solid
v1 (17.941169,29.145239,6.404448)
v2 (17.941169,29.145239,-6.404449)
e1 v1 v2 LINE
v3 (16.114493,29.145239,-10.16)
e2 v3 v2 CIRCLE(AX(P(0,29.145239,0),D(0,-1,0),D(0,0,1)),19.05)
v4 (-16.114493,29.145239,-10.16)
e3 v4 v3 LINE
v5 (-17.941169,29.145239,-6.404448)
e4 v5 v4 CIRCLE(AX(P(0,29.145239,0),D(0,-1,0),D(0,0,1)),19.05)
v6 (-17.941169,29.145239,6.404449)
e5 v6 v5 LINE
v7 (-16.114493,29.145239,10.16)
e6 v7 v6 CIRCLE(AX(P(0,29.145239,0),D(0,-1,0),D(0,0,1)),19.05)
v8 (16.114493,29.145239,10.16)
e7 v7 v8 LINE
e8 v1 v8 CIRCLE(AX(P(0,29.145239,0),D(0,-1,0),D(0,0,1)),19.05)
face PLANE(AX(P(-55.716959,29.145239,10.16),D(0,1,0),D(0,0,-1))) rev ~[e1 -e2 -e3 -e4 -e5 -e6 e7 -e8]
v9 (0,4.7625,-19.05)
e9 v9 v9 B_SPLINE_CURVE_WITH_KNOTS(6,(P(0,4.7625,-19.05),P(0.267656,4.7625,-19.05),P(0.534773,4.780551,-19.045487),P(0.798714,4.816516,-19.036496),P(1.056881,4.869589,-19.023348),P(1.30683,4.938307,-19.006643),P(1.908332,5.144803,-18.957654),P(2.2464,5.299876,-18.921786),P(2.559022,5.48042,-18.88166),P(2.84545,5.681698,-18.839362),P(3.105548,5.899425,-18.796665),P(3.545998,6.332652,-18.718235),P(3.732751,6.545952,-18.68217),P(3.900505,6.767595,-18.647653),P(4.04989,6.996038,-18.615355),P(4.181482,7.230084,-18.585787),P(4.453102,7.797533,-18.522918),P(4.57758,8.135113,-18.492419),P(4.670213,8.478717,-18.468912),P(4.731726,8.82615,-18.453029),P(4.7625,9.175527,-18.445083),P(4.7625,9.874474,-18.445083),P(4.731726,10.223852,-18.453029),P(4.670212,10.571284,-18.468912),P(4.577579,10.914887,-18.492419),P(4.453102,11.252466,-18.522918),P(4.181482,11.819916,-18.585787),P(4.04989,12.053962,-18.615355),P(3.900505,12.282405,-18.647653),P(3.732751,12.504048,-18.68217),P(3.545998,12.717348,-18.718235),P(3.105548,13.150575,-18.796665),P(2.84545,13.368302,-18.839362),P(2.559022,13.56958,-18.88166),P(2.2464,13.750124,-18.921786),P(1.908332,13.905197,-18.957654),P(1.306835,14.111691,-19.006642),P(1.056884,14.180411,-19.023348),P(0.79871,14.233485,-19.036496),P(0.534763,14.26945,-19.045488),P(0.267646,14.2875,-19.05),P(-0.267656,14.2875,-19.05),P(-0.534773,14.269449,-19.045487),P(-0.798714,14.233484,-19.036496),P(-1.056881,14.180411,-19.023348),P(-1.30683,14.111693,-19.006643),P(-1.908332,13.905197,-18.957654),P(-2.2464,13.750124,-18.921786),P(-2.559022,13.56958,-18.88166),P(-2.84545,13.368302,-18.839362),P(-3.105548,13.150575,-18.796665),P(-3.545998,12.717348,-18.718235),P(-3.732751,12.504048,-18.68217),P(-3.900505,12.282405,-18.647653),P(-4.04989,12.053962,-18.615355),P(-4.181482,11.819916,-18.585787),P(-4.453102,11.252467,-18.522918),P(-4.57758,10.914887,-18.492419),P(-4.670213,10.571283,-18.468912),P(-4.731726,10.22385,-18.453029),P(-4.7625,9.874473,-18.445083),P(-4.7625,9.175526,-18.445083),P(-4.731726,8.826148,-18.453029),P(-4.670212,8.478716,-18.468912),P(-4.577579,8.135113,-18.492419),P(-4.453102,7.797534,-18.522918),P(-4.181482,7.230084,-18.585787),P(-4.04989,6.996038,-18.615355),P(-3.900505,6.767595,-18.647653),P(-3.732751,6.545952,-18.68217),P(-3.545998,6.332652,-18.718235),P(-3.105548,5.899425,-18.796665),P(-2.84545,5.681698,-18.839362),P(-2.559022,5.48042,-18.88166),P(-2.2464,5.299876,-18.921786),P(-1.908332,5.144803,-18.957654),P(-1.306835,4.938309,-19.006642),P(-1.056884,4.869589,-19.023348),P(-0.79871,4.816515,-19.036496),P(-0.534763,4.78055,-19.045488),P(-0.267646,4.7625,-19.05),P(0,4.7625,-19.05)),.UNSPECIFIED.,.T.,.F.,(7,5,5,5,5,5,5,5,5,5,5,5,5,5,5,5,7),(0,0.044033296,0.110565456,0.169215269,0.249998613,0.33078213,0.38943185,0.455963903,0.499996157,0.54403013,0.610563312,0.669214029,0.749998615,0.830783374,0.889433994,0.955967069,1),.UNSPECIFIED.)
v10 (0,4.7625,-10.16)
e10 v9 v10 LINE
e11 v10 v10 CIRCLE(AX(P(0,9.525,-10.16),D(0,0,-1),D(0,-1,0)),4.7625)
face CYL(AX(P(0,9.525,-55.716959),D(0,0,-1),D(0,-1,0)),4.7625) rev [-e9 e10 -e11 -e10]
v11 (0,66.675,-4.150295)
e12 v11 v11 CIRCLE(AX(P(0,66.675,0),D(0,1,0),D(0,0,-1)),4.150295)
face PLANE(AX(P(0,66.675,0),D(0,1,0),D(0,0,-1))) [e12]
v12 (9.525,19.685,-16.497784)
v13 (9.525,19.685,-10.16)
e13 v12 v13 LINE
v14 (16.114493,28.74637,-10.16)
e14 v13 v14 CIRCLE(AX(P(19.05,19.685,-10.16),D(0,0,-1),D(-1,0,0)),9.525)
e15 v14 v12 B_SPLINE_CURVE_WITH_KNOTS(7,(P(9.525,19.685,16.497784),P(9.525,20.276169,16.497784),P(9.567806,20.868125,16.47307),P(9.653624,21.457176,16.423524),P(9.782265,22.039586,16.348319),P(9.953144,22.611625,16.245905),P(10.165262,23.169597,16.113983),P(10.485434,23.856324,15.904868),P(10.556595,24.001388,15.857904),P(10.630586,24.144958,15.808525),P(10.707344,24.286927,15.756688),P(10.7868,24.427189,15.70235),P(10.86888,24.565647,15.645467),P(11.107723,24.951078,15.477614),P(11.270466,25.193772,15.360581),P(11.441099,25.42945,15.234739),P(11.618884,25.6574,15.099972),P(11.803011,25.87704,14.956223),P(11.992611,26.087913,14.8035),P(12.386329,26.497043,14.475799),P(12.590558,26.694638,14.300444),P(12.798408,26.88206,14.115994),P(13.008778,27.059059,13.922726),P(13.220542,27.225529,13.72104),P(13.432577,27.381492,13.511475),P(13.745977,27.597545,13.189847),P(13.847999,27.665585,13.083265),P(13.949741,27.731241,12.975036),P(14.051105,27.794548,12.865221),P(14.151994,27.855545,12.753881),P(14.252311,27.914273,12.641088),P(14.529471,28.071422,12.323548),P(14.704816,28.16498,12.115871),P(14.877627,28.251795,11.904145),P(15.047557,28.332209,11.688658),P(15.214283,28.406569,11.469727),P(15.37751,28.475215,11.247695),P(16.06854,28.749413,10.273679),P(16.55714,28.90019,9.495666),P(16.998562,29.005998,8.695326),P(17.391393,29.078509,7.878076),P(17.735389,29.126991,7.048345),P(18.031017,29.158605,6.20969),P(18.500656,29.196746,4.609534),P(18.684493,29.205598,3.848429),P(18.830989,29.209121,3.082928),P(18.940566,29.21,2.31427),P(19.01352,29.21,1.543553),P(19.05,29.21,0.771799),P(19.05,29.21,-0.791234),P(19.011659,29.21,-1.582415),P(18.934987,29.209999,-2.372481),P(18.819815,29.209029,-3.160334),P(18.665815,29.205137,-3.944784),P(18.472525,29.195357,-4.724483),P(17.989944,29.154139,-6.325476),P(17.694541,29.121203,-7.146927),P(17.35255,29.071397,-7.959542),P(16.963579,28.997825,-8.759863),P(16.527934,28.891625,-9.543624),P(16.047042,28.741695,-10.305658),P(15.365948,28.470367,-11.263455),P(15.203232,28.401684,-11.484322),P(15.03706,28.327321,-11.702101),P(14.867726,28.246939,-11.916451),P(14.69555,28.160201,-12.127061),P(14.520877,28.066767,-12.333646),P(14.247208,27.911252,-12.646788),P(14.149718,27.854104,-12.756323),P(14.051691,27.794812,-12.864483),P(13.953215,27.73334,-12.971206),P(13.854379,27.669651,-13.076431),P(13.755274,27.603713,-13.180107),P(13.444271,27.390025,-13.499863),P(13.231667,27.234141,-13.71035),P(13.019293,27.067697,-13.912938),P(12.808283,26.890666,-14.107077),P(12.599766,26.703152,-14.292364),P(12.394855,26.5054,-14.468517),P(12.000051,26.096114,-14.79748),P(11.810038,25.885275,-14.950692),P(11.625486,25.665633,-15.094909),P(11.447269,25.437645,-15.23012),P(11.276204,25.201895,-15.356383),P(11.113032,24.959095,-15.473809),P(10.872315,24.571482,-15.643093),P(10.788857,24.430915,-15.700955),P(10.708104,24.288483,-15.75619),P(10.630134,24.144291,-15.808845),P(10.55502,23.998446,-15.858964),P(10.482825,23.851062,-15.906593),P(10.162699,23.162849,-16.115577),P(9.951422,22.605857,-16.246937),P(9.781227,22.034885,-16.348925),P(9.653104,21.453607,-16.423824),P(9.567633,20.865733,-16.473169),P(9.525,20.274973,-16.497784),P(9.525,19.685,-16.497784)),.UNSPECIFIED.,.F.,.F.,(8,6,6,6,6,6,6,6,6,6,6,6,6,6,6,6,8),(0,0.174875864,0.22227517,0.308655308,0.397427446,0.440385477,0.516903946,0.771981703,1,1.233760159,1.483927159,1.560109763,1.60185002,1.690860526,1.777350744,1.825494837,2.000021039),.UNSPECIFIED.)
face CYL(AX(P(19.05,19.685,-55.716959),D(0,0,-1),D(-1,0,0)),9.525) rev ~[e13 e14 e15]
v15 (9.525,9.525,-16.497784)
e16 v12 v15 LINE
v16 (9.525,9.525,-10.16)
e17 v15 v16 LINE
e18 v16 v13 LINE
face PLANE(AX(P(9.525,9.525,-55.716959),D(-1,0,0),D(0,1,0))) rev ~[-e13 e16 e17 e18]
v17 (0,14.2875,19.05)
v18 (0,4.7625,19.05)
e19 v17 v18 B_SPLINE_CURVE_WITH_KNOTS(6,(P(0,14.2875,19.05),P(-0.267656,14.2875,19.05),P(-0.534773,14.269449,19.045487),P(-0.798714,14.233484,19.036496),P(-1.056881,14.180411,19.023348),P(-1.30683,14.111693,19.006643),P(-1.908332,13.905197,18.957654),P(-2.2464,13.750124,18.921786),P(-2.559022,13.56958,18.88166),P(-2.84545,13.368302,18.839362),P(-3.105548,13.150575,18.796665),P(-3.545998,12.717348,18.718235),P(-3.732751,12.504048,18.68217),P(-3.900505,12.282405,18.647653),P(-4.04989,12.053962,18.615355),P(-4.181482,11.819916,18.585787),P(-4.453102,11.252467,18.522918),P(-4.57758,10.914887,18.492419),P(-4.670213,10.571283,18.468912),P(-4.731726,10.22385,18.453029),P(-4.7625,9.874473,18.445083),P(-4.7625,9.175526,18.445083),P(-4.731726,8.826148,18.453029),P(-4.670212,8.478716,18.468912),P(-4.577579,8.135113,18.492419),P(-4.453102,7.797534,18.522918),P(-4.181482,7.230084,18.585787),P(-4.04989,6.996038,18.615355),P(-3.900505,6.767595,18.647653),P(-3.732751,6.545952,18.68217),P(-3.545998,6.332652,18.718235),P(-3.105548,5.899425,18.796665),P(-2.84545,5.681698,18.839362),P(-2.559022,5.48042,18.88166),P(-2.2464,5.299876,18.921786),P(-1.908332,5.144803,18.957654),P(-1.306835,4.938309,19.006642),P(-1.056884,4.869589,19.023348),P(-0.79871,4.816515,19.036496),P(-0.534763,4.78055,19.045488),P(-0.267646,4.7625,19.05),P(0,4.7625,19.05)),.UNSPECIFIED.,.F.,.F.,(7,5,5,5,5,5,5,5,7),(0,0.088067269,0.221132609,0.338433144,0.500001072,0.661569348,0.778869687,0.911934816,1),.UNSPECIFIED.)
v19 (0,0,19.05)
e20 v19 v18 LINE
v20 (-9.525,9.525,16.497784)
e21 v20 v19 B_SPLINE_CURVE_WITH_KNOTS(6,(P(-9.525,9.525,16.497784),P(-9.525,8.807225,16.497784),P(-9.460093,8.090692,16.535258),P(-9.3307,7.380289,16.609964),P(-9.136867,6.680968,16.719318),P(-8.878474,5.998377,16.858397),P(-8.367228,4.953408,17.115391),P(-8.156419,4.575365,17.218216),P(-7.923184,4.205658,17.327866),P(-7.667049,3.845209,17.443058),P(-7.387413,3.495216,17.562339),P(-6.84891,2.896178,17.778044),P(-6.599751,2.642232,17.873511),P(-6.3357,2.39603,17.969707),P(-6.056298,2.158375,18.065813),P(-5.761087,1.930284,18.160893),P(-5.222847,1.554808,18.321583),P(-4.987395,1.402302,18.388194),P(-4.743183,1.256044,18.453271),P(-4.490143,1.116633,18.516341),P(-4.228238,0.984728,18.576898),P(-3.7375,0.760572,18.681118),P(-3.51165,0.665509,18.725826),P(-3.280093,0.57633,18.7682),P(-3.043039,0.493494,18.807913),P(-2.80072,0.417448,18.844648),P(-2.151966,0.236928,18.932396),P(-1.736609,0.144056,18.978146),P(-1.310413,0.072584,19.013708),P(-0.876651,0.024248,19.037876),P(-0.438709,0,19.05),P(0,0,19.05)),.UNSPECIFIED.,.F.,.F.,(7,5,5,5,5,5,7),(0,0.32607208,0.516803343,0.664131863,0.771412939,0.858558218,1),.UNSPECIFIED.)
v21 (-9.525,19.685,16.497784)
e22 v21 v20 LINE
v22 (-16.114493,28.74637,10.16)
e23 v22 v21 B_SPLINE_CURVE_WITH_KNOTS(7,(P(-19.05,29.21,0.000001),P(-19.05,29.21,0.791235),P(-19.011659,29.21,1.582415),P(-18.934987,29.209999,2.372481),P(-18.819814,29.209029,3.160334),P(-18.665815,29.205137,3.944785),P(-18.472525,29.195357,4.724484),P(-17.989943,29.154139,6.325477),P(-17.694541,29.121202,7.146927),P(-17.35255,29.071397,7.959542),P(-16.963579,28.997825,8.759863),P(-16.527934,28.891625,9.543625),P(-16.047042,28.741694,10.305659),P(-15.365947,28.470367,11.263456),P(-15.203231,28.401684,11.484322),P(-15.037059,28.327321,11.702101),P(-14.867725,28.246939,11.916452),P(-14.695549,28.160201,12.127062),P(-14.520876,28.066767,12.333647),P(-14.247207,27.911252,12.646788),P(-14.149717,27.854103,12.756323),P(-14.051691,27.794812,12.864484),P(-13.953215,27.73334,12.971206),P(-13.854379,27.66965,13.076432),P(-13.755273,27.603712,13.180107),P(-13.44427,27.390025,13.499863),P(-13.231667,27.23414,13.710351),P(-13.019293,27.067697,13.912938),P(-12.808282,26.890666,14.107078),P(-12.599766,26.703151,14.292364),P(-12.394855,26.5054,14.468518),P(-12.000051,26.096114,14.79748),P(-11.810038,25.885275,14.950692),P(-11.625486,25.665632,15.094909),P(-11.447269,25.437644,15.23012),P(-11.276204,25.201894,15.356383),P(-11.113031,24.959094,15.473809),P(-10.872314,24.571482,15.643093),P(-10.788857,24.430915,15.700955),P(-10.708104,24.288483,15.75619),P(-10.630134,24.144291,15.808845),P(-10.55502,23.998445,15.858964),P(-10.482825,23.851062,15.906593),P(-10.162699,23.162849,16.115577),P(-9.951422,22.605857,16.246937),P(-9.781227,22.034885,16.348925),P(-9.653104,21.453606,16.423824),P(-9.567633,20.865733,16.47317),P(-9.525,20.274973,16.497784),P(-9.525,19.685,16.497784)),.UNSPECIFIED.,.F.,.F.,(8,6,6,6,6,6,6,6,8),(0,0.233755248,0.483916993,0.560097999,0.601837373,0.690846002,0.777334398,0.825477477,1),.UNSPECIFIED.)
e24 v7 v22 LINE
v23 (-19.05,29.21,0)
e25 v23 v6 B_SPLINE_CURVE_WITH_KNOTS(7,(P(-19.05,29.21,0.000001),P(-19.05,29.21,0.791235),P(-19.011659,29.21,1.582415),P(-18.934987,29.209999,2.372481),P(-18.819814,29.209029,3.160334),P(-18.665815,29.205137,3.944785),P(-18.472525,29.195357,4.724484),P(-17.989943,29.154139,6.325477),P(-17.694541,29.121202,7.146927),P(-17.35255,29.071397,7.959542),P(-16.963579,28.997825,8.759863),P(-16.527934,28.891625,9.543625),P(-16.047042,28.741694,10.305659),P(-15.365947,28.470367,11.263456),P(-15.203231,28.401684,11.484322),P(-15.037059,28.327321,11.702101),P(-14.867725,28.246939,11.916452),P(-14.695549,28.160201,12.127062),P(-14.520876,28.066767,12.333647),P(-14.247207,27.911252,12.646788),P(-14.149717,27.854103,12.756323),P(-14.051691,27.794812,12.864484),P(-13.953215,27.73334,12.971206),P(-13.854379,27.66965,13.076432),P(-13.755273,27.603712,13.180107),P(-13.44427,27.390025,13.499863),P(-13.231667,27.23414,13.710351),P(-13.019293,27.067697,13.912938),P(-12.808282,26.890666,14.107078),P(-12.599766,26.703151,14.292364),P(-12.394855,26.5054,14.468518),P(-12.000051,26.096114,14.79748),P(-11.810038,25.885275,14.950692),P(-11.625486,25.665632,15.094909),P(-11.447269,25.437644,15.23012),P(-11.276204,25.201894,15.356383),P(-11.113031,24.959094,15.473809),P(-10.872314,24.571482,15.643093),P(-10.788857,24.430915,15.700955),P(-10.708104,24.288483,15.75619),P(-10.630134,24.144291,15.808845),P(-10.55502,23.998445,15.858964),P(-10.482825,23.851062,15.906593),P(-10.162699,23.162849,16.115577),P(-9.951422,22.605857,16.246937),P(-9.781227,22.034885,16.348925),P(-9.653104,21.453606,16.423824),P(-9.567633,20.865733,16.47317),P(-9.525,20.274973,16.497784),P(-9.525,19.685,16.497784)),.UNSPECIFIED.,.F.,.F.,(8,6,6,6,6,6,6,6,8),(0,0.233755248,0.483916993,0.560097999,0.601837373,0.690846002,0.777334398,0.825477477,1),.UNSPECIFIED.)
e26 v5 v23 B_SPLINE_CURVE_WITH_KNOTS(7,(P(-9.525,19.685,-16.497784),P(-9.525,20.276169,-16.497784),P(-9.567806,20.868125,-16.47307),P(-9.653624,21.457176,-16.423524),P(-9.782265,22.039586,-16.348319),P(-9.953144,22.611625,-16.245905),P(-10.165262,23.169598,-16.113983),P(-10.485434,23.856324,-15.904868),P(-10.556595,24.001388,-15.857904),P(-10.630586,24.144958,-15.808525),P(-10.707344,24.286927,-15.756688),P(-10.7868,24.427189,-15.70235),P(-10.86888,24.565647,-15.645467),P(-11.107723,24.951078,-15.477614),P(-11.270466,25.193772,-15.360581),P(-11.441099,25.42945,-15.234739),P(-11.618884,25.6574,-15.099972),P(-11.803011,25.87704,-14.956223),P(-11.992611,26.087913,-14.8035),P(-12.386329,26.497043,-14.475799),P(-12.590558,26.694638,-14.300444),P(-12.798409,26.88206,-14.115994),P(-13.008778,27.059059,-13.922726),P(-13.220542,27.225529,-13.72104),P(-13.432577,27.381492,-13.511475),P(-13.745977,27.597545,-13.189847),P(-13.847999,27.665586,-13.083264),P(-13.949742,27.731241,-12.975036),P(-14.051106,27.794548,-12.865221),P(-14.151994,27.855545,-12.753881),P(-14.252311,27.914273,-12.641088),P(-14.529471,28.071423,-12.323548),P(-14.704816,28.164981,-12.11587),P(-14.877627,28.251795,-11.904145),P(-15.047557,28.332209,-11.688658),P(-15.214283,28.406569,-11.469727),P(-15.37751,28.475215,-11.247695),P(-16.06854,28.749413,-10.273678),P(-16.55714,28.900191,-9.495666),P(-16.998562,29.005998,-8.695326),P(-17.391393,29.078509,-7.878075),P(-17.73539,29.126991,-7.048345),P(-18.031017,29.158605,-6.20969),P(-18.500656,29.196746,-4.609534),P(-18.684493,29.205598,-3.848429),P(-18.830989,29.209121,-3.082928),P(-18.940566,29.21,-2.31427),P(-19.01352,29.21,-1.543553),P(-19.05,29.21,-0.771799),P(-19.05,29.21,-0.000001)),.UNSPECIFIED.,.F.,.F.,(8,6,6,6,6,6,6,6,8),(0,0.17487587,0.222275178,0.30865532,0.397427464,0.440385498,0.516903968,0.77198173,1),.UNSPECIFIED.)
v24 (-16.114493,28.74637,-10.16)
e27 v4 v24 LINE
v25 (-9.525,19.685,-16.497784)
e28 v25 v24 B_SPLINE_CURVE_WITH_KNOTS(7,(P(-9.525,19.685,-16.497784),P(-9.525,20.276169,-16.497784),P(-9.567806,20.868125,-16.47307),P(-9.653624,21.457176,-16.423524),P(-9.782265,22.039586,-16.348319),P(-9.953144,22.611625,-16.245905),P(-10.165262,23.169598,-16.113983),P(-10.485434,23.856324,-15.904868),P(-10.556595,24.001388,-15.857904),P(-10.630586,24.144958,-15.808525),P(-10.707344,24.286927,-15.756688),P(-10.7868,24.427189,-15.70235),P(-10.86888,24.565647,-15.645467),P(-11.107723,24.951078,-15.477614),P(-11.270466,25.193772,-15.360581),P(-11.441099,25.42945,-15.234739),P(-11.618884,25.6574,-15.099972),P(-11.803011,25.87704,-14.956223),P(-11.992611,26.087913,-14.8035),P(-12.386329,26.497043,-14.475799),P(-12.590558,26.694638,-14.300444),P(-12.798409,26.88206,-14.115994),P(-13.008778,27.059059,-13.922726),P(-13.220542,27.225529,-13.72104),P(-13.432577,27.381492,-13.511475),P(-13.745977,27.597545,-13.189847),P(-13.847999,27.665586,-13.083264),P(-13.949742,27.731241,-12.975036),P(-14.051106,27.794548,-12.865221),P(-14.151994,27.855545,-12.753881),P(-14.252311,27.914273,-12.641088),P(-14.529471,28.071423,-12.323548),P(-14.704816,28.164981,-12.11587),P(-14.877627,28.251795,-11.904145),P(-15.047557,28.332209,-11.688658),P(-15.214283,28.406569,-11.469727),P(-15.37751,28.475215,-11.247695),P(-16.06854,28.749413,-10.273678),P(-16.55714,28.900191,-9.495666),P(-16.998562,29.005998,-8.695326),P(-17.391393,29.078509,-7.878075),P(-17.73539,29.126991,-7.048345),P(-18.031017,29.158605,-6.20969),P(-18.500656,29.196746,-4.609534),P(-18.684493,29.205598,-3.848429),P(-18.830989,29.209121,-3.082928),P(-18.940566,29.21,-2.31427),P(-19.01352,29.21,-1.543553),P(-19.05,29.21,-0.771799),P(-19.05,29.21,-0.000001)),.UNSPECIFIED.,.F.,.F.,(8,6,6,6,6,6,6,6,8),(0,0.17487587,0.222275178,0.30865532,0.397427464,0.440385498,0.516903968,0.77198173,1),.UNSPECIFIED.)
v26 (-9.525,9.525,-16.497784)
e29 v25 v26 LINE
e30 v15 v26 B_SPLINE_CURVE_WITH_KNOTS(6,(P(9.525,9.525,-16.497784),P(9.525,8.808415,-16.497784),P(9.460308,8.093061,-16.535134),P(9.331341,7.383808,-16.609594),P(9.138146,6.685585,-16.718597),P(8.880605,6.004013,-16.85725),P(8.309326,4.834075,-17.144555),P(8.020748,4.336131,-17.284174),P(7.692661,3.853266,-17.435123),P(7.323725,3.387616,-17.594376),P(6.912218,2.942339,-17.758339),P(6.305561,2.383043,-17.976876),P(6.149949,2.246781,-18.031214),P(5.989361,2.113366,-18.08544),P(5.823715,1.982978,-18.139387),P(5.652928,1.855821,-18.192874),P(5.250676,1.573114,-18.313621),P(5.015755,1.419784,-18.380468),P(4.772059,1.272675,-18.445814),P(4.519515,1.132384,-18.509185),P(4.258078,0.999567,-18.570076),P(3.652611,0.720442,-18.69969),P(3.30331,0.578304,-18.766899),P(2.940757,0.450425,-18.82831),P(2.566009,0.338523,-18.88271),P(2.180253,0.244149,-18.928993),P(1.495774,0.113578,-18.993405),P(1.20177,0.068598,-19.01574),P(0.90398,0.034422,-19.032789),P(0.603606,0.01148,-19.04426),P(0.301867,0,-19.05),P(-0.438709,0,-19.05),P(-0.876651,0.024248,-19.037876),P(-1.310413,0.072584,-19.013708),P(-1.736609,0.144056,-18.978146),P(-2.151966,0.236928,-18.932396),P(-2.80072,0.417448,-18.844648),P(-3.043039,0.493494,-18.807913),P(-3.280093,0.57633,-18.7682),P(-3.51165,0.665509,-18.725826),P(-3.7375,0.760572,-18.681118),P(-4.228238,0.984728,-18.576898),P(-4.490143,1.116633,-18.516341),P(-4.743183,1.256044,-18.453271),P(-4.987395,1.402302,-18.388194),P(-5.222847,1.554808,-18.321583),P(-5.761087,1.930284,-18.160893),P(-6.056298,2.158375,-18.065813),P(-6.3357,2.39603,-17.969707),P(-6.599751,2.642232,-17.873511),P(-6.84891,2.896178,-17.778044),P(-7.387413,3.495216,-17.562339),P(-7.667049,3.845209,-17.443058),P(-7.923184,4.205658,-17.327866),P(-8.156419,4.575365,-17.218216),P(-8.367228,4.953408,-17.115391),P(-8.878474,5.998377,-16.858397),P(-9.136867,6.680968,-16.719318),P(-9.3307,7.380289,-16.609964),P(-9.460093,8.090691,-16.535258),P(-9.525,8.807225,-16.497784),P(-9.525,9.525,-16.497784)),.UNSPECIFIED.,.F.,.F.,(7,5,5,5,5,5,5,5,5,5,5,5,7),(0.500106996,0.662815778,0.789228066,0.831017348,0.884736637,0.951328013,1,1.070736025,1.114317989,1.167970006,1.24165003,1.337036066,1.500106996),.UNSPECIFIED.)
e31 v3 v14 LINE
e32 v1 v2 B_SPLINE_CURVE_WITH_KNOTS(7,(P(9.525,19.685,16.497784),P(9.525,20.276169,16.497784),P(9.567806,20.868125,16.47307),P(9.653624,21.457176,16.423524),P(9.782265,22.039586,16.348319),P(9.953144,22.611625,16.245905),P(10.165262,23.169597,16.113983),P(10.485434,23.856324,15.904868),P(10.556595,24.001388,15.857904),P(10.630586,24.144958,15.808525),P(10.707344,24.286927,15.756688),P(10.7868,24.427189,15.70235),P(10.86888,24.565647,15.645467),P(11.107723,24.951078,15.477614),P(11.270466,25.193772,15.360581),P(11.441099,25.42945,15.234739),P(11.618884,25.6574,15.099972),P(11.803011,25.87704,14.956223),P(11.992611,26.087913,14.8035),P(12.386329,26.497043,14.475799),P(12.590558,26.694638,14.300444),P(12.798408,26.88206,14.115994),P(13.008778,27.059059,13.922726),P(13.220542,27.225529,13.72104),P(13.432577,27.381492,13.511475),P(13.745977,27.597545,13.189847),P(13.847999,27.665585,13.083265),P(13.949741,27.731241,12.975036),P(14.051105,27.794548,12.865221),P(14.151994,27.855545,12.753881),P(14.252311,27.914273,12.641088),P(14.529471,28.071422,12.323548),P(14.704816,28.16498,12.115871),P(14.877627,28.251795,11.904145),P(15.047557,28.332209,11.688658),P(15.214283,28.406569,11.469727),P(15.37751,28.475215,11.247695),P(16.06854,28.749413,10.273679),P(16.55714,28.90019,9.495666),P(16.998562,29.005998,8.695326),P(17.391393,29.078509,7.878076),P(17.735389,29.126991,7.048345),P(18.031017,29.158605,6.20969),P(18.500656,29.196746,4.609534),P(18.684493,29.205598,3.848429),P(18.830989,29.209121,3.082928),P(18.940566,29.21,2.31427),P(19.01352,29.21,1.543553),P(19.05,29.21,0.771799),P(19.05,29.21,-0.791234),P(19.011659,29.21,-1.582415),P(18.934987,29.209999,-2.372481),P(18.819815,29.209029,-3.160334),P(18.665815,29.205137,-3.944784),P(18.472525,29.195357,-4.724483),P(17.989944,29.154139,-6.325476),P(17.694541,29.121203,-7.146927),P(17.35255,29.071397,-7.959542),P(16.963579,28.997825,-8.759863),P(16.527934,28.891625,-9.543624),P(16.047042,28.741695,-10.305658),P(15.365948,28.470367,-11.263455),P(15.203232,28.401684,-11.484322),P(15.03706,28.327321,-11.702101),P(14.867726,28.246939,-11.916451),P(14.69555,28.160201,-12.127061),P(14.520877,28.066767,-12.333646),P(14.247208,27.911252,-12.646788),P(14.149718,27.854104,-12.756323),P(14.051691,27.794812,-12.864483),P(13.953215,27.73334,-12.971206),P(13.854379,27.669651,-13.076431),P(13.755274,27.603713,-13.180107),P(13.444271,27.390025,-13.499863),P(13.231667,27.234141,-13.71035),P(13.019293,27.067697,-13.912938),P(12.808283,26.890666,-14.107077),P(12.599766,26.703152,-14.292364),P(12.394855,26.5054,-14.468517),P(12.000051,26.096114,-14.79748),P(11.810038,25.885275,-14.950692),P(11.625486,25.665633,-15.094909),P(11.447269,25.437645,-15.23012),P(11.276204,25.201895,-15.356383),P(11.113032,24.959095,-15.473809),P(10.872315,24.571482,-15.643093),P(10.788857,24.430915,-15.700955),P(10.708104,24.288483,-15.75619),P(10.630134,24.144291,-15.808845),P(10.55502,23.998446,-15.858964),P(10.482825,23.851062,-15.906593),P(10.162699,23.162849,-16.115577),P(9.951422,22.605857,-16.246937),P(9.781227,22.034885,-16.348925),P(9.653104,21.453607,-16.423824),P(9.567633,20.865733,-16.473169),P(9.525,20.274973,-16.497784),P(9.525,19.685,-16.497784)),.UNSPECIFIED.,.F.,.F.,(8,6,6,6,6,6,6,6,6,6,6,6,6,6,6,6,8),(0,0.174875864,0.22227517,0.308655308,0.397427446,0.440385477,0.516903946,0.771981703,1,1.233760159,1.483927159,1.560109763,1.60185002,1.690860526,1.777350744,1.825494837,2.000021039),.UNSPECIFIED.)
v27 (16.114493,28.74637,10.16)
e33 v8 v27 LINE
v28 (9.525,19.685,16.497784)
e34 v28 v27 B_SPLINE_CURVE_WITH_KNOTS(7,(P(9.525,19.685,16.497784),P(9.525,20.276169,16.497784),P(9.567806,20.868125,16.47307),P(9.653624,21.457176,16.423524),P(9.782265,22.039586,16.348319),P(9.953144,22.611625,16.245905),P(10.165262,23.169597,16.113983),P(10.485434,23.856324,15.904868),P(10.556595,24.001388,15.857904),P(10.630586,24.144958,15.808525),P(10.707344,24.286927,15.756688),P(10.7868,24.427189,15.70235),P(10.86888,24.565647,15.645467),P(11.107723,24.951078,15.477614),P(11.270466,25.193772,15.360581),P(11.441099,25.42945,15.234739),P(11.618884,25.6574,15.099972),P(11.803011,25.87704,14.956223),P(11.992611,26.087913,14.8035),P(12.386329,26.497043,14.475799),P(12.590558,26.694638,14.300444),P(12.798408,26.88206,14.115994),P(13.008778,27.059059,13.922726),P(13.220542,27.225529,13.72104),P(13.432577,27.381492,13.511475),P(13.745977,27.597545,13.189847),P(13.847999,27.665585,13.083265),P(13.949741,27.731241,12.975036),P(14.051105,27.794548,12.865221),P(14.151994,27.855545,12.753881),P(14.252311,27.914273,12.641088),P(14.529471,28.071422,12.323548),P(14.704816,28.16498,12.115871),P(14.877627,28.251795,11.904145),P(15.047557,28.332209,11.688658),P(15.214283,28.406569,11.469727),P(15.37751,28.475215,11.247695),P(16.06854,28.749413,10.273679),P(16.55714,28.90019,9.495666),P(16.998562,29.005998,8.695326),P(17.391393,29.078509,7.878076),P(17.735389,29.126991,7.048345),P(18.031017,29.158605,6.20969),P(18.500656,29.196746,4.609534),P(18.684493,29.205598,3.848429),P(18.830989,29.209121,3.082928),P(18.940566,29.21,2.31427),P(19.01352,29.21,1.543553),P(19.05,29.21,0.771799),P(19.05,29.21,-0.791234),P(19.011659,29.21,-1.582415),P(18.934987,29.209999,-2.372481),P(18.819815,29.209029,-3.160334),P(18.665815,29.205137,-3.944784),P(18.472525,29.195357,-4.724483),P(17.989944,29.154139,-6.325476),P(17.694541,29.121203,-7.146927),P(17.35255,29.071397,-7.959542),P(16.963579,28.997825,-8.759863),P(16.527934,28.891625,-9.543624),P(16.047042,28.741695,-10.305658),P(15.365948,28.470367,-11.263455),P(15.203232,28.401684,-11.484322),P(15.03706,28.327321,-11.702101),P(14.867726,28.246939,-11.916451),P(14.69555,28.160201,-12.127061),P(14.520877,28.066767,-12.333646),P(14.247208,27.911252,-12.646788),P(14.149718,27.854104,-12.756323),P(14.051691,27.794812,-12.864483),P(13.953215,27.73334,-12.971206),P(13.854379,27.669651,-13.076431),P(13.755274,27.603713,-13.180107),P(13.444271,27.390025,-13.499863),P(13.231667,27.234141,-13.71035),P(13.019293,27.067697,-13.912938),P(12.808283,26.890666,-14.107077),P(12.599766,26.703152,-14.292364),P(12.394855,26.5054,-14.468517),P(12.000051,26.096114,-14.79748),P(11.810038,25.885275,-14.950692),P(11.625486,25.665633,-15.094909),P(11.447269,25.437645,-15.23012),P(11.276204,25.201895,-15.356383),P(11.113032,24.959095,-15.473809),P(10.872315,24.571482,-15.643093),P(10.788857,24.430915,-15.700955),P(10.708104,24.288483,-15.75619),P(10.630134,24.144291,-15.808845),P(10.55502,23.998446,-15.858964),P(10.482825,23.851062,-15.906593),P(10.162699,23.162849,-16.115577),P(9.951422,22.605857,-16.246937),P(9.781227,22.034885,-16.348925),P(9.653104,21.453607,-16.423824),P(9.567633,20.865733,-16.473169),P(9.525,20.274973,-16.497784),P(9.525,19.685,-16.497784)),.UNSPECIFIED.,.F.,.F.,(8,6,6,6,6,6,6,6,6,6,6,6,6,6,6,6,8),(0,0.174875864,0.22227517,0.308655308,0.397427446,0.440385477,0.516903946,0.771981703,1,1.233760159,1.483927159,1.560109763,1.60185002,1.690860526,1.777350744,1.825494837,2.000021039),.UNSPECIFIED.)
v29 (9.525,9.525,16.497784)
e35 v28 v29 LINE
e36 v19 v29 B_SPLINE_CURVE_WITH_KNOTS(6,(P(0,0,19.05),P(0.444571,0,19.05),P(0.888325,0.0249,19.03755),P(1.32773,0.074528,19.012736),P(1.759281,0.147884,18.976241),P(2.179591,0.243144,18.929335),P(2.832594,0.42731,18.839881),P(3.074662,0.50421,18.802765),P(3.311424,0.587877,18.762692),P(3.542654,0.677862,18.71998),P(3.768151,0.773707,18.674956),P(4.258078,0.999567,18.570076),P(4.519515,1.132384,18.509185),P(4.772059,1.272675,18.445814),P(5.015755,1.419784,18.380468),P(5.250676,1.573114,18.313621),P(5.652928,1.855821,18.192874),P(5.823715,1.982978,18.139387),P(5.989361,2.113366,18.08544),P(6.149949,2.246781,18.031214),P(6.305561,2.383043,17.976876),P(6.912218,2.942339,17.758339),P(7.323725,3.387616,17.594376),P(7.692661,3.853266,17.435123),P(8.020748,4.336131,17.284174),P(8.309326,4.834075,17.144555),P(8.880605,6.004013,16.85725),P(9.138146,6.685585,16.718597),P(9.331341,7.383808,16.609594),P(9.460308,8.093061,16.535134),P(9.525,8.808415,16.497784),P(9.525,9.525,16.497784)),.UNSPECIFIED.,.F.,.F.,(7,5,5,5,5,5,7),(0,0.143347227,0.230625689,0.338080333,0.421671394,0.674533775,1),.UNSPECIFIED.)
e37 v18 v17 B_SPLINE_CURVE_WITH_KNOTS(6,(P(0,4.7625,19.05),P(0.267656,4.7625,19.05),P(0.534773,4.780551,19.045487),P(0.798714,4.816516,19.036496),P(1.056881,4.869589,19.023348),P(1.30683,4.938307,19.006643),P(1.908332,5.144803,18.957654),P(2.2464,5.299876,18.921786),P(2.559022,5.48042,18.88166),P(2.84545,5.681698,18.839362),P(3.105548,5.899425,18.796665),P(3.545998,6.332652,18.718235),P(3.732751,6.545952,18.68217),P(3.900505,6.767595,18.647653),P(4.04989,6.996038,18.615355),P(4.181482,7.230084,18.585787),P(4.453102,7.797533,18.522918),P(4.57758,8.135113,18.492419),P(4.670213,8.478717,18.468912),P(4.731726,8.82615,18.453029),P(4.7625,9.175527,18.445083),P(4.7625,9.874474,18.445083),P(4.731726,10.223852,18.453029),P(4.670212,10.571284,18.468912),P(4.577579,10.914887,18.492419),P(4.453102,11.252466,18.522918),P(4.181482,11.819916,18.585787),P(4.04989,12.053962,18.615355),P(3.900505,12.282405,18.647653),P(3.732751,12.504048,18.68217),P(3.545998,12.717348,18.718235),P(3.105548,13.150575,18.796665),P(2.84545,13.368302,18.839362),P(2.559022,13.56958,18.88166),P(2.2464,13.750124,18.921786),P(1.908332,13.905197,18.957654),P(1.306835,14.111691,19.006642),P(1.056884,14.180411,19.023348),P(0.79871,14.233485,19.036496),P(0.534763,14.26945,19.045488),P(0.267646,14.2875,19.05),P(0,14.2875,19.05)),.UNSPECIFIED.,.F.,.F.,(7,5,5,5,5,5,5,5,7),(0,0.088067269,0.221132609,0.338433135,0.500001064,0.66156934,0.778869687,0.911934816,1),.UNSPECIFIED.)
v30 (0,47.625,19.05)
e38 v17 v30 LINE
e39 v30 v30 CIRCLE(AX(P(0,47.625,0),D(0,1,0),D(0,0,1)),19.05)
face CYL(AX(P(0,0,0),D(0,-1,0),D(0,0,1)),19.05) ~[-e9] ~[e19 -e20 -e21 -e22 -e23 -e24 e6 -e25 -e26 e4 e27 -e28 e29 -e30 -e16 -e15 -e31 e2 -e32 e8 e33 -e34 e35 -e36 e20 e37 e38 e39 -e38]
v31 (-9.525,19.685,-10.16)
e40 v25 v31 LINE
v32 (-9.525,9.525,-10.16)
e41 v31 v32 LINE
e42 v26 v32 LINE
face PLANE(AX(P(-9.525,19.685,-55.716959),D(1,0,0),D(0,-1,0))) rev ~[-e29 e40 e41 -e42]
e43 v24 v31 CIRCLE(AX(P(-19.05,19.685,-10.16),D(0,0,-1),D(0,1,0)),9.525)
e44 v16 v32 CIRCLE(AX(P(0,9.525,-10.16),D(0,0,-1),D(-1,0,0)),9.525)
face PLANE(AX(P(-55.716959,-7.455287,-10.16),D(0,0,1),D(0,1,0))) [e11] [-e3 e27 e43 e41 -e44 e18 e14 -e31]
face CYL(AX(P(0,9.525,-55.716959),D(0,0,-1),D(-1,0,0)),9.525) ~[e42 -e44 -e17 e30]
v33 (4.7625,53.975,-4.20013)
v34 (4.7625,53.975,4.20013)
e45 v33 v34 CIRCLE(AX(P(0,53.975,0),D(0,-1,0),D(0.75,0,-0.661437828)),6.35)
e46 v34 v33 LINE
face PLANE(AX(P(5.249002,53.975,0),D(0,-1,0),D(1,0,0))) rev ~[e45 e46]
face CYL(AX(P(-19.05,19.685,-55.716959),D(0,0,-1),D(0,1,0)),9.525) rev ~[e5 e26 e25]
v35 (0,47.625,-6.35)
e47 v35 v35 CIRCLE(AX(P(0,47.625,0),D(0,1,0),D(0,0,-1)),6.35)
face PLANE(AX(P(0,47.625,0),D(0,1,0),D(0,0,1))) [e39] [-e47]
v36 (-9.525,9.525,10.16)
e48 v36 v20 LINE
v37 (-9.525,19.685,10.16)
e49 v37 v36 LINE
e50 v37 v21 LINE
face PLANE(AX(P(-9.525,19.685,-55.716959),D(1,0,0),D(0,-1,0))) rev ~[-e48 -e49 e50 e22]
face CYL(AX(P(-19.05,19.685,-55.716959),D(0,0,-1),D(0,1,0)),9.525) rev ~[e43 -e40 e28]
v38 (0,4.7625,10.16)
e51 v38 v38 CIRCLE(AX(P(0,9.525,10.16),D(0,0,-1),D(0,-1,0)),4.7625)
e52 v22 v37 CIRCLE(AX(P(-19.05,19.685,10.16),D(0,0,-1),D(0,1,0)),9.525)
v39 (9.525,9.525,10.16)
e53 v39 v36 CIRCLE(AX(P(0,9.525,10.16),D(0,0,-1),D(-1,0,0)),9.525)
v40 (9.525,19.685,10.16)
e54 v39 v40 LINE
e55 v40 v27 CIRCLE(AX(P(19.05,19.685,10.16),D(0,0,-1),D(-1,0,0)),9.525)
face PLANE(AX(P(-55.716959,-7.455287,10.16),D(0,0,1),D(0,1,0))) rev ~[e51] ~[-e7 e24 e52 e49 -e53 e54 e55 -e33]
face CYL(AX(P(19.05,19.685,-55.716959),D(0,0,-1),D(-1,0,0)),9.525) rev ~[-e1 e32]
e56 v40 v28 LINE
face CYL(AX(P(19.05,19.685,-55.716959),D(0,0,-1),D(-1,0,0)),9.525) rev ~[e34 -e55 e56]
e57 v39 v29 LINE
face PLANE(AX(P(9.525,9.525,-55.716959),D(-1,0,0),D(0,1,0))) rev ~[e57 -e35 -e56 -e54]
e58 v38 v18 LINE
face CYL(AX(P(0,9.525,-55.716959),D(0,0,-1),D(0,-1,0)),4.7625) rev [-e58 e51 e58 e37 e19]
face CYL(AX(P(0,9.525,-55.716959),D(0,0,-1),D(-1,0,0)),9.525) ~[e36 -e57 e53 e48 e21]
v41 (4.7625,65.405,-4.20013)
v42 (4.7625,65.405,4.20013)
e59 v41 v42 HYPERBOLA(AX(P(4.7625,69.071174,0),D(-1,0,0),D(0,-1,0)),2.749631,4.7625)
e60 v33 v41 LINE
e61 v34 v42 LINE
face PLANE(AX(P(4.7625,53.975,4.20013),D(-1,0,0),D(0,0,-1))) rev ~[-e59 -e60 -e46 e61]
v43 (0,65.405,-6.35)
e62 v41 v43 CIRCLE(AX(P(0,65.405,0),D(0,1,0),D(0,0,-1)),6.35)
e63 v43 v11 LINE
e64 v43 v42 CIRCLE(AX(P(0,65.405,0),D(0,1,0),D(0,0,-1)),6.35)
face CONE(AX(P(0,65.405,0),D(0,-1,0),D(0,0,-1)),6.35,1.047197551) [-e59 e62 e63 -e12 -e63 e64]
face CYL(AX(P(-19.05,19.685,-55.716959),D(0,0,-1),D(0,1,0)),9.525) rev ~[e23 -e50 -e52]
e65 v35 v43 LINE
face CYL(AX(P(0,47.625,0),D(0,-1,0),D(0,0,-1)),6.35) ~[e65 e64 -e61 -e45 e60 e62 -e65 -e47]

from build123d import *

# Parameters (mm, degrees)
SKETCH1_R               = 19.05
BASE_EXTRUDE_DEPTH      = 47.625
CUT_EXTRUDE1_DEPTH      = 55.716959208
CUT_EXTRUDE1_DEPTH_BACK = 55.716959208
CUT_EXTRUDE5_DEPTH      = 47.625
CUT_EXTRUDE5_DEPTH_BACK = 55.716959365
SKETCH8_W               = 20.32
SKETCH8_H               = 36.600526062
CUT_EXTRUDE6_DEPTH      = 55.716959365
CUT_EXTRUDE6_DEPTH_BACK = 55.716959365
SKETCH11_R              = 4.7625
SKETCH12_R              = 6.35
BOSS_EXTRUDE1_DEPTH     = 19.05
CHAMFER3_SIZE           = 1.27
CHAMFER3_SIZE2          = 2.199704526
CUT_EXTRUDE7_START      = -12.7
CUT_EXTRUDE7_DEPTH      = 12.7


with BuildPart() as part:
    # Sketch1 → Base-Extrude (new body)
    with BuildSketch(Plane(origin=(0, 0, 0), x_dir=(-1, 0, 0), z_dir=(0, 1, 0))):
        Circle(SKETCH1_R)
    extrude(amount=BASE_EXTRUDE_DEPTH)

    # Sketch2 → Cut-Extrude1 (cut, two sides: drawn at the far end of the back side and taken through both)
    with BuildSketch(Plane.XY.offset(-CUT_EXTRUDE1_DEPTH_BACK)):
        with BuildLine():
            Line((9.525, 9.525), (9.525, 19.685))
            ThreePointArc((9.525, 19.685), (12.314807909, 26.420192091), (19.05, 29.21))
            Line((19.05, 29.21), (19.05, -1.366191125))
            Line((19.05, -1.366191125), (-19.05, -1.366191125))
            Line((-19.05, -1.366191125), (-19.05, 29.21))
            ThreePointArc((-19.05, 29.21), (-12.314807909, 26.420192091), (-9.525, 19.685))
            Line((-9.525, 19.685), (-9.525, 9.525))
            ThreePointArc((-9.525, 9.525), (0, 0), (9.525, 9.525))
        make_face()
    extrude(amount=CUT_EXTRUDE1_DEPTH + CUT_EXTRUDE1_DEPTH_BACK, mode=Mode.SUBTRACT)

    # Sketch8 → Cut-Extrude5 (cut, two sides: drawn at the far end of the back side and taken through both)
    with BuildSketch(Plane(origin=(0, 0, 0), x_dir=(0, 0, -1), z_dir=(1, 0, 0)).offset(-CUT_EXTRUDE5_DEPTH_BACK)):
        with Locations((0, 10.844975795)):
            Rectangle(SKETCH8_W, SKETCH8_H)
    extrude(amount=CUT_EXTRUDE5_DEPTH + CUT_EXTRUDE5_DEPTH_BACK, mode=Mode.SUBTRACT)

    # Sketch11 → Cut-Extrude6 (cut, two sides: drawn at the far end of the back side and taken through both)
    with BuildSketch(Plane.XY.offset(-CUT_EXTRUDE6_DEPTH_BACK)):
        with Locations((0, 9.525)):
            Circle(SKETCH11_R)
    extrude(amount=CUT_EXTRUDE6_DEPTH + CUT_EXTRUDE6_DEPTH_BACK, mode=Mode.SUBTRACT)

    # Sketch12 → Boss-Extrude1 (add)
    with BuildSketch(Plane(origin=(0, 47.625, 0), x_dir=(-1, 0, 0), z_dir=(0, 1, 0))):
        Circle(SKETCH12_R)
    extrude(amount=BOSS_EXTRUDE1_DEPTH)

    # Chamfer3
    chamfer3_edges = [part.edges().sort_by_distance(p)[0] for p in [
        (6.35, 66.675, 0),
    ]]
    chamfer3_side = [part.faces().sort_by_distance(p)[0] for p in [
        (6.35, 57.15, 0),
    ]]
    chamfer(chamfer3_edges, length=CHAMFER3_SIZE, length2=CHAMFER3_SIZE2, reference=chamfer3_side[0])

    # Sketch13 → Cut-Extrude7 (cut)
    with BuildSketch(Plane(origin=(0, 66.675, 0), x_dir=(-1, 0, 0), z_dir=(0, 1, 0)).offset(CUT_EXTRUDE7_START)):
        with BuildLine():
            Line((-4.7625, 4.200130206), (-4.7625, -4.200130206))
            ThreePointArc((-4.7625, -4.200130206), (-6.35, 0), (-4.7625, 4.200130206))
        make_face()
    extrude(amount=CUT_EXTRUDE7_DEPTH, mode=Mode.SUBTRACT)


solid = part.part
